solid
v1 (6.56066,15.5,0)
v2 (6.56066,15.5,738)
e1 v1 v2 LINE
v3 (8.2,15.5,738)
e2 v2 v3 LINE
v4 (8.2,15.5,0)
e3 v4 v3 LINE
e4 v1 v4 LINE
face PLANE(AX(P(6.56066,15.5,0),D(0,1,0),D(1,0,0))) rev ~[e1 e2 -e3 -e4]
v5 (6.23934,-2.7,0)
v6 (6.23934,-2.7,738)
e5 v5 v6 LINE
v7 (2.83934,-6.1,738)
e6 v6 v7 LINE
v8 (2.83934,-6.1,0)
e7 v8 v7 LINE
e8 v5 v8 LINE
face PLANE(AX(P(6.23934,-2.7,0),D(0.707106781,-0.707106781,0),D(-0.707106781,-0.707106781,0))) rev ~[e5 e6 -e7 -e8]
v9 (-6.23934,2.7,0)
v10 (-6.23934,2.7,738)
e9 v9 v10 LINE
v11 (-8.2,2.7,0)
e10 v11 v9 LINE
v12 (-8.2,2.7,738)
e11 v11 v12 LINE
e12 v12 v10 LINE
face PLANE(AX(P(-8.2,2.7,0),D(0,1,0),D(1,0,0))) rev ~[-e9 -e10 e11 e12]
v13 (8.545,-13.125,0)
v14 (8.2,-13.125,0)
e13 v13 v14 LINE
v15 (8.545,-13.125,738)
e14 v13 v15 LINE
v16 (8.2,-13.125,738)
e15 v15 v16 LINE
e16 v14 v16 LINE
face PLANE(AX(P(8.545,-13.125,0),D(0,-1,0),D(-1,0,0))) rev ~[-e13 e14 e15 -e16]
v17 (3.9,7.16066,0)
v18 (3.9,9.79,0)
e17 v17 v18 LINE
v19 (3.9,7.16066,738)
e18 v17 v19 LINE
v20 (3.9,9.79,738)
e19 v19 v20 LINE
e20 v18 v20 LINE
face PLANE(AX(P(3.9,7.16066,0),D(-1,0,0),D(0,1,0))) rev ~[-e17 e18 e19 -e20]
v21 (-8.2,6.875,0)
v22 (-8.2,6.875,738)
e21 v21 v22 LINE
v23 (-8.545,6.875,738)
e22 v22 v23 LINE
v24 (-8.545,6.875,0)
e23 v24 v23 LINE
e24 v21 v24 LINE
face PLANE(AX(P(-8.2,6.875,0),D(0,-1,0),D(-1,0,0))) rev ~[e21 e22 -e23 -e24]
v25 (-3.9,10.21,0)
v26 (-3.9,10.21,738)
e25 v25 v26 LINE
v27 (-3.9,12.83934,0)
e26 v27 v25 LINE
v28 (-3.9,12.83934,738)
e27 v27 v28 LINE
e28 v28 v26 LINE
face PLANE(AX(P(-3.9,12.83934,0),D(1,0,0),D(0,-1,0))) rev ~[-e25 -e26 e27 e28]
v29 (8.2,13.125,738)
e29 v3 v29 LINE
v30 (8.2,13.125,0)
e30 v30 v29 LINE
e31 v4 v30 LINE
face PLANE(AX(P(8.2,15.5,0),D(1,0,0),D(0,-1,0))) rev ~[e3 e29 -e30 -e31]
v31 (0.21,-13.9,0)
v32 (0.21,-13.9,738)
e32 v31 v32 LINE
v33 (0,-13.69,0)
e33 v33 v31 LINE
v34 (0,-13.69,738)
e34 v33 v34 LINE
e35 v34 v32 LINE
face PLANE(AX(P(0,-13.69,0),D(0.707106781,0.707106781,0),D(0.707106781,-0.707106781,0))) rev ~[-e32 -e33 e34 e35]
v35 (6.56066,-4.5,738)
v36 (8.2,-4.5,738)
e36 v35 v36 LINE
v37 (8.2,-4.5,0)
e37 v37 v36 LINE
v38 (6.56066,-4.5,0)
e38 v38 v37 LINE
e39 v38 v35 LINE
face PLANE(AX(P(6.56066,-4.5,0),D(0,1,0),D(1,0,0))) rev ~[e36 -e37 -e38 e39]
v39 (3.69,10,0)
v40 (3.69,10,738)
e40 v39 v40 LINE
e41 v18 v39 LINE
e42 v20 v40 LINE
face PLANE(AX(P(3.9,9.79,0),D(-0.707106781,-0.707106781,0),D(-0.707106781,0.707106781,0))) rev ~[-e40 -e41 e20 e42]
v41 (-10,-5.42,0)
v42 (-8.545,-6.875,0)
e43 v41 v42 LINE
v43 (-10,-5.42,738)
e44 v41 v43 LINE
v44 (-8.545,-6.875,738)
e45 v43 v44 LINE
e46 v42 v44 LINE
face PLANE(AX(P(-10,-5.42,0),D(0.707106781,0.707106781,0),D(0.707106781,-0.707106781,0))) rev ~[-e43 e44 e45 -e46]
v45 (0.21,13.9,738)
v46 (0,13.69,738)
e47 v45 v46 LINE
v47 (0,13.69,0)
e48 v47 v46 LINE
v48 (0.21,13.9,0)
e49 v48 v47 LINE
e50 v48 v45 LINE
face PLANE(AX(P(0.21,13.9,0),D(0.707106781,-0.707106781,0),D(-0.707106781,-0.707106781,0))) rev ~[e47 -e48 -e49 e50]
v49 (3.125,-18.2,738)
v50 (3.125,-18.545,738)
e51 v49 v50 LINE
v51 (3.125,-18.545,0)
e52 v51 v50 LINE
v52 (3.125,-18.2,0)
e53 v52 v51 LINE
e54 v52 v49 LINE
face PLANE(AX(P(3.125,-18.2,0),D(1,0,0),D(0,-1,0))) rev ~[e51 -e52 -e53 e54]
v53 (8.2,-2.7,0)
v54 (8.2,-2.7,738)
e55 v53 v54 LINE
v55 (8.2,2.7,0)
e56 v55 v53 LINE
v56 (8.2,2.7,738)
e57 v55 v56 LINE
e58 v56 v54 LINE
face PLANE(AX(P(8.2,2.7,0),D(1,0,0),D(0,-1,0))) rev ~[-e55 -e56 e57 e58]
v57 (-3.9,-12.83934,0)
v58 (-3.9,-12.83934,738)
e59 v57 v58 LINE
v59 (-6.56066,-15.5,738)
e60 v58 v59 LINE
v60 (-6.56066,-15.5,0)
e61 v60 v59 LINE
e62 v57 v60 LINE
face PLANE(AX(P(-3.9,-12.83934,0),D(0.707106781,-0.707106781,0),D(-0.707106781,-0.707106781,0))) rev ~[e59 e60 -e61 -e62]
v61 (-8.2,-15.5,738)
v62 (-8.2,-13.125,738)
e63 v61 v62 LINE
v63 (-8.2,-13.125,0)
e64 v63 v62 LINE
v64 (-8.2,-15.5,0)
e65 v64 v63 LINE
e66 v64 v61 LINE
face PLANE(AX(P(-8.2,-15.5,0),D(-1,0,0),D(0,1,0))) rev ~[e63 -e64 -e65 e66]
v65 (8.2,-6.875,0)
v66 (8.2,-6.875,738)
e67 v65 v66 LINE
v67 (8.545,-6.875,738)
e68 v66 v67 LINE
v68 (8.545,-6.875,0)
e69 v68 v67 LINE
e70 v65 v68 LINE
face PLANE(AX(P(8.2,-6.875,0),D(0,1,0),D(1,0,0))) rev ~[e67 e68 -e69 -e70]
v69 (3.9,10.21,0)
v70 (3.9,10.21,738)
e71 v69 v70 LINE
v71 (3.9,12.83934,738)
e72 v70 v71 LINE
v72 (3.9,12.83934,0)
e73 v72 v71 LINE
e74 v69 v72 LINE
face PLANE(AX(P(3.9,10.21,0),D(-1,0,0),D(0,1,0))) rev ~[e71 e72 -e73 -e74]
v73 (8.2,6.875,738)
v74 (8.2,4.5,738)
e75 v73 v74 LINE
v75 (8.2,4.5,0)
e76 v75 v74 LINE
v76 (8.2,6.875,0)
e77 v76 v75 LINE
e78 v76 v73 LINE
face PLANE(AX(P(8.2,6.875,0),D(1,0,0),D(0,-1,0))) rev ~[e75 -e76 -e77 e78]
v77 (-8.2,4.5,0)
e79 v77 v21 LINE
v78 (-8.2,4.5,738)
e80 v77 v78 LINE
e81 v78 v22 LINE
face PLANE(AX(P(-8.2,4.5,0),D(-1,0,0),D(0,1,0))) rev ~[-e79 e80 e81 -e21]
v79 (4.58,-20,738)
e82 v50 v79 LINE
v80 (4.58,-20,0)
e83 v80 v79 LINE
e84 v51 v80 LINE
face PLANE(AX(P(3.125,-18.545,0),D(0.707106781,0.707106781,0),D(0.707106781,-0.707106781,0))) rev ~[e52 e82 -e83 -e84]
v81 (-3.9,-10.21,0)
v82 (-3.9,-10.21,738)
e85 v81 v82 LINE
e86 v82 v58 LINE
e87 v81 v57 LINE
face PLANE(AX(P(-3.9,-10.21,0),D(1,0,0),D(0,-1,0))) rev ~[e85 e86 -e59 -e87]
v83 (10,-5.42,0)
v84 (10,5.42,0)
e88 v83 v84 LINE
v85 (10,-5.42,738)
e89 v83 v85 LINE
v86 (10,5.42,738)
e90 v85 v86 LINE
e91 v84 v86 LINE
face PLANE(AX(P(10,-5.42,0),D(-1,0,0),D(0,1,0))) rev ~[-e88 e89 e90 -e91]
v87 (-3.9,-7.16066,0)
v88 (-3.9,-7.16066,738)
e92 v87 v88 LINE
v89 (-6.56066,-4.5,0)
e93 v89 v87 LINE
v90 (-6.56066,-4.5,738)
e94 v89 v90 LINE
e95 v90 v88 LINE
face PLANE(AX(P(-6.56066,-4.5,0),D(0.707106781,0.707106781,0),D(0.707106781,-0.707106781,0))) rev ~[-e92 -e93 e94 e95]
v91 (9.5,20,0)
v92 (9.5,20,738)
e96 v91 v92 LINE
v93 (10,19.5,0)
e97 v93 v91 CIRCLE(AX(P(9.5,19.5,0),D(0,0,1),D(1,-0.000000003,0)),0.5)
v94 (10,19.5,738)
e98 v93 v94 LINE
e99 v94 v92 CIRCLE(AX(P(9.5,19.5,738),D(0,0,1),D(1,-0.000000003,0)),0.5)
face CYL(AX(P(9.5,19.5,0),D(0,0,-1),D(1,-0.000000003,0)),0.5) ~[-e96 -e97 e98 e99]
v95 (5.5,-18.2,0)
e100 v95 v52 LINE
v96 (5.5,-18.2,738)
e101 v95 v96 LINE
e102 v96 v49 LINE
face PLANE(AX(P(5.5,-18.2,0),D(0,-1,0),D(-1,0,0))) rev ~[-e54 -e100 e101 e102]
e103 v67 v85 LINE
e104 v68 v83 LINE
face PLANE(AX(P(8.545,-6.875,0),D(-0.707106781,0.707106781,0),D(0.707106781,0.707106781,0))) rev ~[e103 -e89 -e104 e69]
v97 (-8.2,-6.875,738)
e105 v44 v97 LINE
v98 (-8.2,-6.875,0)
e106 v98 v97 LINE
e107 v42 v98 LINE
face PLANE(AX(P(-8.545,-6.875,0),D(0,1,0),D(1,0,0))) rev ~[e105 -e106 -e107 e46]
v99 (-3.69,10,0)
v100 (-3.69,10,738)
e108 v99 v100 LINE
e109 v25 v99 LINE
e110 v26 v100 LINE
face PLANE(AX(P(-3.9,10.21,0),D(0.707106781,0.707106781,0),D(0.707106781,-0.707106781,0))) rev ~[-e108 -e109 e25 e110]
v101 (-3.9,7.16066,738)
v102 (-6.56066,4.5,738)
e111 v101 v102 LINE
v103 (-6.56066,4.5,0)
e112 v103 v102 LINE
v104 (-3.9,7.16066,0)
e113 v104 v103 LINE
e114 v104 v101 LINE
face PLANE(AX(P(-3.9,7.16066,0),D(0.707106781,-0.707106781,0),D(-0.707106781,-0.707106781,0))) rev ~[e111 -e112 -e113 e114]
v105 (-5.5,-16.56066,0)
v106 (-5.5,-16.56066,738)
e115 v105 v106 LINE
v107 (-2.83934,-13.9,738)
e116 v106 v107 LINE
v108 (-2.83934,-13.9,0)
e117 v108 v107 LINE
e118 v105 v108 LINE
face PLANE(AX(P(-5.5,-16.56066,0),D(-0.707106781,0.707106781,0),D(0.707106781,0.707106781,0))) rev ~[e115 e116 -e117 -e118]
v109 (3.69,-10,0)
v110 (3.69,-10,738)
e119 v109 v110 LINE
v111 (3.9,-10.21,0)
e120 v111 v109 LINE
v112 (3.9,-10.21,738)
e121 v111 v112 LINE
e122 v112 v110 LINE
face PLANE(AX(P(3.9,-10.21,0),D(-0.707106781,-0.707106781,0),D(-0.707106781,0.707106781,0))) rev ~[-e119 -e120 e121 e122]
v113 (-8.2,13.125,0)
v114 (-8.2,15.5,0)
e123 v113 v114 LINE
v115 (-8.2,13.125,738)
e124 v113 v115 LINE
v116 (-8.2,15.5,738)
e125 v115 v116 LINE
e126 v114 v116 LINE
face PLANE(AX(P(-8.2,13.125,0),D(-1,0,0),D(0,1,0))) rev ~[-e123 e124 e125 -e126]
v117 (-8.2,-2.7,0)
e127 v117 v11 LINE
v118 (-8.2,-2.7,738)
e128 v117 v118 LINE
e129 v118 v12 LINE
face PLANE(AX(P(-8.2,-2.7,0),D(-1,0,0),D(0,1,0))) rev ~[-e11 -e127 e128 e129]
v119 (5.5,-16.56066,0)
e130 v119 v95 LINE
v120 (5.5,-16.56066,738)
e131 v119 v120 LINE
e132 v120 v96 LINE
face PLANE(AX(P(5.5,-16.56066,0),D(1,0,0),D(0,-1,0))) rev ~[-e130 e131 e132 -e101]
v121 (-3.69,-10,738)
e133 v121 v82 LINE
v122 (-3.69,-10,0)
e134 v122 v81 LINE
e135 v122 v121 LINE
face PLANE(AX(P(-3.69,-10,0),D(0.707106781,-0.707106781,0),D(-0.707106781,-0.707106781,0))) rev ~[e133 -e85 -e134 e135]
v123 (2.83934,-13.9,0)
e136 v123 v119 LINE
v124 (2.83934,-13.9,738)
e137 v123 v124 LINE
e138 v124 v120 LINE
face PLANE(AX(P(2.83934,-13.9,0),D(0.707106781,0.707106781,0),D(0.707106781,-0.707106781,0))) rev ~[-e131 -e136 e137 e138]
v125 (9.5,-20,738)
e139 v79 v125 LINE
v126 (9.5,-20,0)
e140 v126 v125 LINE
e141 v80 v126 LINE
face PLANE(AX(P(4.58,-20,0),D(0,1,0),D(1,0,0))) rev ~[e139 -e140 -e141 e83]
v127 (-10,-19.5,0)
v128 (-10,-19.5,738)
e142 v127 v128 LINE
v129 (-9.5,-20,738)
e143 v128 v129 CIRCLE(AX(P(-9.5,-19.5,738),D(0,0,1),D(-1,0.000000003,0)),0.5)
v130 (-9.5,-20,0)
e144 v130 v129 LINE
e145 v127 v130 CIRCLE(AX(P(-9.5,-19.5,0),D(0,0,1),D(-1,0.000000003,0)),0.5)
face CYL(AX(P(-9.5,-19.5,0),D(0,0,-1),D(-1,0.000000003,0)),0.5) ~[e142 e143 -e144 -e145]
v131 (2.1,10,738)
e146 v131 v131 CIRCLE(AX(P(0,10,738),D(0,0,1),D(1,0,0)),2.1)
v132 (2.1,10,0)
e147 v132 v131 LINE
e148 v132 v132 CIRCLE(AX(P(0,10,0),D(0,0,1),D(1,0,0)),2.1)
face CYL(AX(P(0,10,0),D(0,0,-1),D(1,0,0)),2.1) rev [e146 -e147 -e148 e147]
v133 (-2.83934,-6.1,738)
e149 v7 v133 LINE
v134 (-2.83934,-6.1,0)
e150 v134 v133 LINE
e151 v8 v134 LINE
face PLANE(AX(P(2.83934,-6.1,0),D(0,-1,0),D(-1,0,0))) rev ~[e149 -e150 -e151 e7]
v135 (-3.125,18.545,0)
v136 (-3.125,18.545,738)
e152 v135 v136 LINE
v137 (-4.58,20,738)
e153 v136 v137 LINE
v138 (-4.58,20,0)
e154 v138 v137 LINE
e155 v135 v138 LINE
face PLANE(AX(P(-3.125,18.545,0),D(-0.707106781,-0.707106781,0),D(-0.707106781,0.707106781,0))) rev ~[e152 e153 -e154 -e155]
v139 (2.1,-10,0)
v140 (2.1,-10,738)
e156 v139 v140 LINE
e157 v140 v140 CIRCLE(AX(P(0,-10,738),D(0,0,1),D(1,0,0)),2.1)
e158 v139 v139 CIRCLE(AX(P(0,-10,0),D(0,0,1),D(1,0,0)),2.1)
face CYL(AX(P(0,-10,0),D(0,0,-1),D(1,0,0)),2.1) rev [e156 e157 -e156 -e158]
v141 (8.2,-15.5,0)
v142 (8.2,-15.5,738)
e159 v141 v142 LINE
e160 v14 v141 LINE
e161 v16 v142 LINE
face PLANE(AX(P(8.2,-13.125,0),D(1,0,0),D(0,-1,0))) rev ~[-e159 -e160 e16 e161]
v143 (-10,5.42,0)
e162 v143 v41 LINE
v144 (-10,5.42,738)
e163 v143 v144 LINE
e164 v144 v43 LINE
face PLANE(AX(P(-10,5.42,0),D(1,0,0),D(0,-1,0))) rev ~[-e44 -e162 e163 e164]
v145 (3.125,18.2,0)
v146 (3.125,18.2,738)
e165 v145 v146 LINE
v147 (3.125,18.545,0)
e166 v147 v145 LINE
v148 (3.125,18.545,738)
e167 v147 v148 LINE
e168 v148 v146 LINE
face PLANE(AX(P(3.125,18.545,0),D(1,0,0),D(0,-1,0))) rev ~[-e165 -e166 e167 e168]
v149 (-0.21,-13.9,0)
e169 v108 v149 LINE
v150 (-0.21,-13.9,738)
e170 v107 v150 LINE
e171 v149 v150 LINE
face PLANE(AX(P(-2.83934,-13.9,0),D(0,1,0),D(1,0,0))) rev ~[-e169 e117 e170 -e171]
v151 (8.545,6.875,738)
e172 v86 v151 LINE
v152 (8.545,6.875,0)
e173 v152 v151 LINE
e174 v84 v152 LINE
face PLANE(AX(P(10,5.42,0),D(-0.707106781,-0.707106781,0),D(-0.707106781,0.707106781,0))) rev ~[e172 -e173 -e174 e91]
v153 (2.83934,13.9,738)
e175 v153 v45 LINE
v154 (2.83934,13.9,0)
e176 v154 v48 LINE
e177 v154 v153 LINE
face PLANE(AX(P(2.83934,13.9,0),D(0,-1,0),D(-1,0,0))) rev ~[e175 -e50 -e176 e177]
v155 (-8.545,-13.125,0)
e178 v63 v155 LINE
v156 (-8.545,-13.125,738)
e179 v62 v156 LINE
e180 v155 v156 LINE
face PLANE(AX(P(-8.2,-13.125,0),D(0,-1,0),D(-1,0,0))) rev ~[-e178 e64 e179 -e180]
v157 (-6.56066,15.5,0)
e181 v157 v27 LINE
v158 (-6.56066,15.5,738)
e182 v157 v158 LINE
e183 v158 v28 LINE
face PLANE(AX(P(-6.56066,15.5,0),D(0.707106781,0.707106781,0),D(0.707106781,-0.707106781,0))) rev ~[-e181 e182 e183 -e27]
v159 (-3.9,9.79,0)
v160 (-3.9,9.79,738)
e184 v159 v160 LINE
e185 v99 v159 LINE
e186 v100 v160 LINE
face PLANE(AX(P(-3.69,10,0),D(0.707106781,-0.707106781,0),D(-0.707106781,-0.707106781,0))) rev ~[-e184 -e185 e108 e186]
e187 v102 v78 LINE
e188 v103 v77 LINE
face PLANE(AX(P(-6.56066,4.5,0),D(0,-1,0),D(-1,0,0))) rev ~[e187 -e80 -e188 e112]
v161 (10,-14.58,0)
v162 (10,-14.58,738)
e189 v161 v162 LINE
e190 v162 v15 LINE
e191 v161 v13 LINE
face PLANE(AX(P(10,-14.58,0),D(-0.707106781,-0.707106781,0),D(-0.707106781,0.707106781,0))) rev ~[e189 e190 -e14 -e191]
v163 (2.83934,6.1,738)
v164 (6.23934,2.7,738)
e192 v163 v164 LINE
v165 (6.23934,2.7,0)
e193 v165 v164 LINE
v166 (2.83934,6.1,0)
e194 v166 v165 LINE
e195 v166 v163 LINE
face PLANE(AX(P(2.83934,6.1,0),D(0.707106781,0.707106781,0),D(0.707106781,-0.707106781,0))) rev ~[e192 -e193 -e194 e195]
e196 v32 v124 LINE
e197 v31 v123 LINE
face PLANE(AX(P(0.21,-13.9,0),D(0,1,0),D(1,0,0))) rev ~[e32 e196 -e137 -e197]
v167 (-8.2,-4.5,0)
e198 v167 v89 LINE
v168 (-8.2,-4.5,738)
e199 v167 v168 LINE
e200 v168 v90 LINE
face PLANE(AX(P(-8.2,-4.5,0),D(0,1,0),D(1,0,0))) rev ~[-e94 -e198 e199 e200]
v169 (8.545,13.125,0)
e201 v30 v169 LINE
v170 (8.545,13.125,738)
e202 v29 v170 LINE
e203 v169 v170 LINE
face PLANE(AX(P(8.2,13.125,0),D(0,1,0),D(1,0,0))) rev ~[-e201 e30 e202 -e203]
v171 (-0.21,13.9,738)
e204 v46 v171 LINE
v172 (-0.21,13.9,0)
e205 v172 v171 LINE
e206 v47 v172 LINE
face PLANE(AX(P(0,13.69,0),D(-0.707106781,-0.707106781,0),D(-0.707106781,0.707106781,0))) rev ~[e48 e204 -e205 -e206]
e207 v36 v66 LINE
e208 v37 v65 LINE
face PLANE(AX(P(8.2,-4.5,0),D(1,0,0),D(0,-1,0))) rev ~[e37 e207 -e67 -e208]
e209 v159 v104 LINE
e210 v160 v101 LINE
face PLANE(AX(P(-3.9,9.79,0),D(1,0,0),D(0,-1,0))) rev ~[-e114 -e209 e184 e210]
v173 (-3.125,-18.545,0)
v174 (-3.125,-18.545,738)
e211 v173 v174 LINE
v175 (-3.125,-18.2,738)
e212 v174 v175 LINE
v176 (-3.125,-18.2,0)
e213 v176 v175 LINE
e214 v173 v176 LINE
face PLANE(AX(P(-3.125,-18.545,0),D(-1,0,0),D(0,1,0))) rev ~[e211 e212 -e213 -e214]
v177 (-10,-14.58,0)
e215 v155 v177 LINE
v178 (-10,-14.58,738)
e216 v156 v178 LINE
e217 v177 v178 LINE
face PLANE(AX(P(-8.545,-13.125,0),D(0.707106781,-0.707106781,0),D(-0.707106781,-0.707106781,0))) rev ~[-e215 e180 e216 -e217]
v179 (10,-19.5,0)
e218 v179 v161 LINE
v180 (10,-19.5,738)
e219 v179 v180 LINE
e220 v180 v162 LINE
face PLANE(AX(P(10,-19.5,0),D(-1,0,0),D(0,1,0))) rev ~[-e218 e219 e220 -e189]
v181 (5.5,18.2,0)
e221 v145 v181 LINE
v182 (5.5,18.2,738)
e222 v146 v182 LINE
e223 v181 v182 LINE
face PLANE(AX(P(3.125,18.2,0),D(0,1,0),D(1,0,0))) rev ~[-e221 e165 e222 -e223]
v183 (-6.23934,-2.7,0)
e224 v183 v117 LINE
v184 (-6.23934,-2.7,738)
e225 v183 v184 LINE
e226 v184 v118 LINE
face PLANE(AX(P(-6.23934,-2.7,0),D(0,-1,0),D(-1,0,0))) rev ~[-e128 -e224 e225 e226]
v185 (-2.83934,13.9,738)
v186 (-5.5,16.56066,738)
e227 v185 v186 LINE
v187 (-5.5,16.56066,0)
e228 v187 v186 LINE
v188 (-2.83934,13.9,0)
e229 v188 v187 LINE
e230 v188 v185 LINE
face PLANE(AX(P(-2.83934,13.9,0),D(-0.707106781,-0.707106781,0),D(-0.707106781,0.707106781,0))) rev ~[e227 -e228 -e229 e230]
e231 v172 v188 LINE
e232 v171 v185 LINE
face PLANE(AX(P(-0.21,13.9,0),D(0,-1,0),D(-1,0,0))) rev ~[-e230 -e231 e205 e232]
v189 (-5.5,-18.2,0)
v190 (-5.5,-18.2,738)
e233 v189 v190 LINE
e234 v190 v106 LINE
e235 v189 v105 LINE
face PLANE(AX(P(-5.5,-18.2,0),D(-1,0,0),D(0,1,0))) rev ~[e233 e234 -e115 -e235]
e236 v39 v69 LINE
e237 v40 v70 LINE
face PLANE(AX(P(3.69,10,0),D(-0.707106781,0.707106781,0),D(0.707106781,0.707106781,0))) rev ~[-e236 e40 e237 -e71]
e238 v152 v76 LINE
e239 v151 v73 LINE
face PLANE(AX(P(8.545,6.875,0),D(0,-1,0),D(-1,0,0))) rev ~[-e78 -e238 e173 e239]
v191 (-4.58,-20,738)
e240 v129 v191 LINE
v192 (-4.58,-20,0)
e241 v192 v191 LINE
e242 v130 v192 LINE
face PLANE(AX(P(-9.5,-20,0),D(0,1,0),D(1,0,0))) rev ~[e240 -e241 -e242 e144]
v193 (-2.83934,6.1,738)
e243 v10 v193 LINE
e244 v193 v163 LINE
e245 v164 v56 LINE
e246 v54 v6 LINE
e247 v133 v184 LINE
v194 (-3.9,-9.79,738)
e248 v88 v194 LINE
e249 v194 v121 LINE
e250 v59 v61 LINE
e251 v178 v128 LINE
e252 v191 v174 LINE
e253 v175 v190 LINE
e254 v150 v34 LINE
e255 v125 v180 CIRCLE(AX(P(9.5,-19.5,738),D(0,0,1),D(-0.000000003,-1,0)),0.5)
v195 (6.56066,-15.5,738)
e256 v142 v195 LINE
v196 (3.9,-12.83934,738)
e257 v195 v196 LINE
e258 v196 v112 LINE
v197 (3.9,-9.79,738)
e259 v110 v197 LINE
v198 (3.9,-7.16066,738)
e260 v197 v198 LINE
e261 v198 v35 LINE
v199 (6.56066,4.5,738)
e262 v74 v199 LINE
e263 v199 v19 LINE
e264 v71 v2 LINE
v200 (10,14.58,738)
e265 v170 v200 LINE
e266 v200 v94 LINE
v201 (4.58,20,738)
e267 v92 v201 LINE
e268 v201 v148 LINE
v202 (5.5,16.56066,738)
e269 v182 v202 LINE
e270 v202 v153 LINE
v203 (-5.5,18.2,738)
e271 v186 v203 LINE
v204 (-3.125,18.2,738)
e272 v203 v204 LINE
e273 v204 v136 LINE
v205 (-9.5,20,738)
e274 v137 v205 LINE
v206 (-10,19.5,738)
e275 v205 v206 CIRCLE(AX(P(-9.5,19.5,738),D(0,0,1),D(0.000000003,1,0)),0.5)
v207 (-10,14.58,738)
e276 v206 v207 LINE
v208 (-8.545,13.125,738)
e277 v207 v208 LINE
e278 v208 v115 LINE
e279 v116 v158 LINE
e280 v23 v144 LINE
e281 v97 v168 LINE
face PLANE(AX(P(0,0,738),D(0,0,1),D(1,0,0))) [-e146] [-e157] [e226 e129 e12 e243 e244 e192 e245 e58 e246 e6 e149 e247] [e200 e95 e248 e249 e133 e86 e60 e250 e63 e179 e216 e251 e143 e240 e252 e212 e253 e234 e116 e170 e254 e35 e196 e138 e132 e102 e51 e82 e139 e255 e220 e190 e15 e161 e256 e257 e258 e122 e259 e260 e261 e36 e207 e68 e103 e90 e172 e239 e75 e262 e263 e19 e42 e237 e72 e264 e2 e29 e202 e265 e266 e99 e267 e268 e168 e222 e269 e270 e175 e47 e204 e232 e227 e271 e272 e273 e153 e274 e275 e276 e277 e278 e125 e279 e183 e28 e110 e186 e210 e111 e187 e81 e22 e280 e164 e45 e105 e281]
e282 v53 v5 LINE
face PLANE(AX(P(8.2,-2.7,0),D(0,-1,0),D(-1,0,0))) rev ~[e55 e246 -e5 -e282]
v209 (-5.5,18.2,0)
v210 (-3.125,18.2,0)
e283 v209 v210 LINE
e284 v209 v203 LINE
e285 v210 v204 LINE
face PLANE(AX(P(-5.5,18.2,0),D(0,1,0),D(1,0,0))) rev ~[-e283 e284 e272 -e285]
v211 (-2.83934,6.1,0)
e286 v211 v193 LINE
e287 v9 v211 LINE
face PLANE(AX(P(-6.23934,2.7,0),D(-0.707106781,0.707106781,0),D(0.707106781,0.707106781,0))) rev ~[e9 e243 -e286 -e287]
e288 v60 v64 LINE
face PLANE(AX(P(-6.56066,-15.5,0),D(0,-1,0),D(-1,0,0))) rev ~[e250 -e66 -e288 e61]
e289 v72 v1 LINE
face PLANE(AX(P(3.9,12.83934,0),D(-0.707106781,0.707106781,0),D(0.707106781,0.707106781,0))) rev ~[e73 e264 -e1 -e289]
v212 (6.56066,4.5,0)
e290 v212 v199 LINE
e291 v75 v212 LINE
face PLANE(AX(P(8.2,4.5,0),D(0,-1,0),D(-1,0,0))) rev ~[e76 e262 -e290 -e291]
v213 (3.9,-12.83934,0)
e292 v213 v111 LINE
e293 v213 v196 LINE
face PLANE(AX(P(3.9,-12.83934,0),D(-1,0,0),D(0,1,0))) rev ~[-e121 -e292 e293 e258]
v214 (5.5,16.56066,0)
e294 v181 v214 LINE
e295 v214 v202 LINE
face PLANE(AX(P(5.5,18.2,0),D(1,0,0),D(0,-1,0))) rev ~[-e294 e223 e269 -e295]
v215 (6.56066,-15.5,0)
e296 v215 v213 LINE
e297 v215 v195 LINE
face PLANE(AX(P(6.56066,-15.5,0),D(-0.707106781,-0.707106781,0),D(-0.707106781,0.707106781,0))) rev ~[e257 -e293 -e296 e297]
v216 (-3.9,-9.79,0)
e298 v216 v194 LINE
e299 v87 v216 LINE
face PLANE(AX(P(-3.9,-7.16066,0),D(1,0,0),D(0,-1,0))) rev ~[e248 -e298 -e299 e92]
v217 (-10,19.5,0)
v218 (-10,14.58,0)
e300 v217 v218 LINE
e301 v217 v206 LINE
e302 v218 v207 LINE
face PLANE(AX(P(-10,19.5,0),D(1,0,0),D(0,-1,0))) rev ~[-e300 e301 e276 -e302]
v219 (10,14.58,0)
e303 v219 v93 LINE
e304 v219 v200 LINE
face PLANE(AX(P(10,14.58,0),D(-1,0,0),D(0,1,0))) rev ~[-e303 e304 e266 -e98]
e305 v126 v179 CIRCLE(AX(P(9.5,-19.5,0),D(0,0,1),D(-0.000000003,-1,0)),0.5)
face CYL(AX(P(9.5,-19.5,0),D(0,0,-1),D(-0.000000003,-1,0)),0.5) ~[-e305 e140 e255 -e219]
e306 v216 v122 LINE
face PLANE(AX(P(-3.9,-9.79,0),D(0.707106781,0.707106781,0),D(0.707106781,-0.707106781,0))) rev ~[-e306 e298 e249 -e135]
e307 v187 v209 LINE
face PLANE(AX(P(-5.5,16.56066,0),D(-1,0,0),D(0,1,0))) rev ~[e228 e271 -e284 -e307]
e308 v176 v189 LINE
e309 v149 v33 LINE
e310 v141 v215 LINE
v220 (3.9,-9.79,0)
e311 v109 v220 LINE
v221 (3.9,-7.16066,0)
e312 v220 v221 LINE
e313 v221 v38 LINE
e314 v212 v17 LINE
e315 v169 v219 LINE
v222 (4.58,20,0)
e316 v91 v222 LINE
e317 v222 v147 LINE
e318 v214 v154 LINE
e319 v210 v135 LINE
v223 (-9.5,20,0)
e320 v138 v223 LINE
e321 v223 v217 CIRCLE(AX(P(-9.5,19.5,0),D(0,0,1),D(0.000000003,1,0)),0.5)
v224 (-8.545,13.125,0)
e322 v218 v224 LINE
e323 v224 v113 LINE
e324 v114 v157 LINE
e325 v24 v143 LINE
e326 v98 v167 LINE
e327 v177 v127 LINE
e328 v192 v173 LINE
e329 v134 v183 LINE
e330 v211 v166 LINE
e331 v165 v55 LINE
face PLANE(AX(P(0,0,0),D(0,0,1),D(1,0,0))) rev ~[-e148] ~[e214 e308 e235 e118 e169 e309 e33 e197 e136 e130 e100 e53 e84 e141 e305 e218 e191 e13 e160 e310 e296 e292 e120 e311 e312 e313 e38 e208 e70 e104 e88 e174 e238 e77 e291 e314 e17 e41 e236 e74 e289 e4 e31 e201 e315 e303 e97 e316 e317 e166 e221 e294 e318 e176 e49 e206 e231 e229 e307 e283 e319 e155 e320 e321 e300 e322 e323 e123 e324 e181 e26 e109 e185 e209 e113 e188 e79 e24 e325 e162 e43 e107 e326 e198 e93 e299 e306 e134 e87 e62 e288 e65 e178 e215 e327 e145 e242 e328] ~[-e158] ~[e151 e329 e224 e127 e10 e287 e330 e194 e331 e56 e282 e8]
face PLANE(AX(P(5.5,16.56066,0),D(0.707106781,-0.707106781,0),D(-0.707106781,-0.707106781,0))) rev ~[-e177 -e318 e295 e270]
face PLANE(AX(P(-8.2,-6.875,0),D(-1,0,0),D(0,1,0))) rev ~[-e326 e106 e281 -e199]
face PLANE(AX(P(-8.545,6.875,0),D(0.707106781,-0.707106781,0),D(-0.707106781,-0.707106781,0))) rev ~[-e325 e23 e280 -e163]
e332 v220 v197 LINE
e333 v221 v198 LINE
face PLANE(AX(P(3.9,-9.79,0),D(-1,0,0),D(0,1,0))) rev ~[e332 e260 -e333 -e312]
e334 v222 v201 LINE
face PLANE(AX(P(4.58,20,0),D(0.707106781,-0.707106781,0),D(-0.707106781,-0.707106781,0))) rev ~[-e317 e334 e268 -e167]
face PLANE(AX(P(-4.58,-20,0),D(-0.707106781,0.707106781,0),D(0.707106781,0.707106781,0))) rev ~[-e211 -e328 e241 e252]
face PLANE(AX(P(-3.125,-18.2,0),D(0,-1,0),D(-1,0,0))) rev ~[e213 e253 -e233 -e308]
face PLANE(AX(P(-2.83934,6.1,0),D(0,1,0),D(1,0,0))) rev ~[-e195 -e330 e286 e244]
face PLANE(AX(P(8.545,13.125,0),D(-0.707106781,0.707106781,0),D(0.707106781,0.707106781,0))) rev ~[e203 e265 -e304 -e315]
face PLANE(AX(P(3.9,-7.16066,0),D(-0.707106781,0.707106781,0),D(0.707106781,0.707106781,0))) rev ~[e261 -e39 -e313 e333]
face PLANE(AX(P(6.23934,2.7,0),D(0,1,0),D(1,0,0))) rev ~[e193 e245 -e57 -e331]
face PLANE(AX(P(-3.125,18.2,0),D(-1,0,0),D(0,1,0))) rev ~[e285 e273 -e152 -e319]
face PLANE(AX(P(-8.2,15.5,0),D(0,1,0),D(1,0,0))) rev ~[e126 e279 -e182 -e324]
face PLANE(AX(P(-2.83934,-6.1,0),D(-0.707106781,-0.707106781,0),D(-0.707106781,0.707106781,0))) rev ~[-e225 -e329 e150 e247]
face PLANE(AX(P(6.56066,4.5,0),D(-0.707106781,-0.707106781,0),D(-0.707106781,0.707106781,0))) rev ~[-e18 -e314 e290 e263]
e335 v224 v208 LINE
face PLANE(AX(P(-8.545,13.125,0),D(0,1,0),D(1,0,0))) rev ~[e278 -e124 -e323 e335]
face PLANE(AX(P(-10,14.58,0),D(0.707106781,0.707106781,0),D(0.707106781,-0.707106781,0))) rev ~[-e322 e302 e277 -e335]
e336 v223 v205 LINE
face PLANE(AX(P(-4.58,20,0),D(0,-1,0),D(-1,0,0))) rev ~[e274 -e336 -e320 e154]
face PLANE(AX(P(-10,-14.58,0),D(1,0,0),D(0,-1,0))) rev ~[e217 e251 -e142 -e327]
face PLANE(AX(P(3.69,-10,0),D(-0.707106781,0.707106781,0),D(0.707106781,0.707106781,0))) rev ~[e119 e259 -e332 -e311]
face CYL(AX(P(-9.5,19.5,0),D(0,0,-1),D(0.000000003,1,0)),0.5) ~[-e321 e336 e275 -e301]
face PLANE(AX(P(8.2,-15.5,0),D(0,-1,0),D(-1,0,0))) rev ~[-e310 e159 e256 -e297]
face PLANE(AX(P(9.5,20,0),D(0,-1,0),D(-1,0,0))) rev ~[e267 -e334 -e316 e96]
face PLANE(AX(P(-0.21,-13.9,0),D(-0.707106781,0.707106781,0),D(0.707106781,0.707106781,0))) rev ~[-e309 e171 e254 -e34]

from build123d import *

# Parameters (mm, degrees)
SKETCH1_R           = 2.1
BOSS_EXTRUDE1_DEPTH = 738


with BuildPart() as part:
    # Sketch1 → Boss-Extrude1 (new body)
    with BuildSketch(Plane.XY):
        with BuildLine():
            Line((4.58, -20), (9.5, -20))
            ThreePointArc((9.5, -20), (9.853553391, -19.853553391), (10, -19.5))
            Line((10, -19.5), (10, -14.58))
            Line((10, -14.58), (8.545, -13.125))
            Line((8.545, -13.125), (8.2, -13.125))
            Line((8.2, -13.125), (8.2, -15.5))
            Line((8.2, -15.5), (6.560660172, -15.5))
            Line((6.560660172, -15.5), (3.9, -12.839339828))
            Line((3.9, -12.839339828), (3.9, -10.21))
            Line((3.9, -10.21), (3.69, -10))
            Line((3.69, -10), (3.9, -9.79))
            Line((3.9, -9.79), (3.9, -7.160660172))
            Line((3.9, -7.160660172), (6.560660172, -4.5))
            Line((6.560660172, -4.5), (8.2, -4.5))
            Line((8.2, -4.5), (8.2, -6.875))
            Line((8.2, -6.875), (8.545, -6.875))
            Line((8.545, -6.875), (10, -5.42))
            Line((10, -5.42), (10, 5.42))
            Line((10, 5.42), (8.545, 6.875))
            Line((8.545, 6.875), (8.2, 6.875))
            Line((8.2, 6.875), (8.2, 4.5))
            Line((8.2, 4.5), (6.560660172, 4.5))
            Line((6.560660172, 4.5), (3.9, 7.160660172))
            Line((3.9, 7.160660172), (3.9, 9.79))
            Line((3.9, 9.79), (3.69, 10))
            Line((3.69, 10), (3.9, 10.21))
            Line((3.9, 10.21), (3.9, 12.839339828))
            Line((3.9, 12.839339828), (6.560660172, 15.5))
            Line((6.560660172, 15.5), (8.2, 15.5))
            Line((8.2, 15.5), (8.2, 13.125))
            Line((8.2, 13.125), (8.545, 13.125))
            Line((8.545, 13.125), (10, 14.58))
            Line((10, 14.58), (10, 19.5))
            ThreePointArc((10, 19.5), (9.853553391, 19.853553391), (9.5, 20))
            Line((9.5, 20), (4.58, 20))
            Line((4.58, 20), (3.125, 18.545))
            Line((3.125, 18.545), (3.125, 18.2))
            Line((3.125, 18.2), (5.5, 18.2))
            Line((5.5, 18.2), (5.5, 16.560660172))
            Line((5.5, 16.560660172), (2.839339828, 13.9))
            Line((2.839339828, 13.9), (0.21, 13.9))
            Line((0.21, 13.9), (0, 13.69))
            Line((0, 13.69), (-0.21, 13.9))
            Line((-0.21, 13.9), (-2.839339828, 13.9))
            Line((-2.839339828, 13.9), (-5.5, 16.560660172))
            Line((-5.5, 16.560660172), (-5.5, 18.2))
            Line((-5.5, 18.2), (-3.125, 18.2))
            Line((-3.125, 18.2), (-3.125, 18.545))
            Line((-3.125, 18.545), (-4.58, 20))
            Line((-4.58, 20), (-9.5, 20))
            ThreePointArc((-9.5, 20), (-9.853553391, 19.853553391), (-10, 19.5))
            Line((-10, 19.5), (-10, 14.58))
            Line((-10, 14.58), (-8.545, 13.125))
            Line((-8.545, 13.125), (-8.2, 13.125))
            Line((-8.2, 13.125), (-8.2, 15.5))
            Line((-8.2, 15.5), (-6.560660172, 15.5))
            Line((-6.560660172, 15.5), (-3.9, 12.839339828))
            Line((-3.9, 12.839339828), (-3.9, 10.21))
            Line((-3.9, 10.21), (-3.69, 10))
            Line((-3.69, 10), (-3.9, 9.79))
            Line((-3.9, 9.79), (-3.9, 7.160660172))
            Line((-3.9, 7.160660172), (-6.560660172, 4.5))
            Line((-6.560660172, 4.5), (-8.2, 4.5))
            Line((-8.2, 4.5), (-8.2, 6.875))
            Line((-8.2, 6.875), (-8.545, 6.875))
            Line((-8.545, 6.875), (-10, 5.42))
            Line((-10, 5.42), (-10, -5.42))
            Line((-10, -5.42), (-8.545, -6.875))
            Line((-8.545, -6.875), (-8.2, -6.875))
            Line((-8.2, -6.875), (-8.2, -4.5))
            Line((-8.2, -4.5), (-6.560660172, -4.5))
            Line((-6.560660172, -4.5), (-3.9, -7.160660172))
            Line((-3.9, -7.160660172), (-3.9, -9.79))
            Line((-3.9, -9.79), (-3.69, -10))
            Line((-3.69, -10), (-3.9, -10.21))
            Line((-3.9, -10.21), (-3.9, -12.839339828))
            Line((-3.9, -12.839339828), (-6.560660172, -15.5))
            Line((-6.560660172, -15.5), (-8.2, -15.5))
            Line((-8.2, -15.5), (-8.2, -13.125))
            Line((-8.2, -13.125), (-8.545, -13.125))
            Line((-8.545, -13.125), (-10, -14.58))
            Line((-10, -14.58), (-10, -19.5))
            ThreePointArc((-10, -19.5), (-9.853553391, -19.853553391), (-9.5, -20))
            Line((-9.5, -20), (-4.58, -20))
            Line((-4.58, -20), (-3.125, -18.545))
            Line((-3.125, -18.545), (-3.125, -18.2))
            Line((-3.125, -18.2), (-5.5, -18.2))
            Line((-5.5, -18.2), (-5.5, -16.560660172))
            Line((-5.5, -16.560660172), (-2.839339828, -13.9))
            Line((-2.839339828, -13.9), (-0.21, -13.9))
            Line((-0.21, -13.9), (0, -13.69))
            Line((0, -13.69), (0.21, -13.9))
            Line((0.21, -13.9), (2.839339828, -13.9))
            Line((2.839339828, -13.9), (5.5, -16.560660172))
            Line((5.5, -16.560660172), (5.5, -18.2))
            Line((5.5, -18.2), (3.125, -18.2))
            Line((3.125, -18.2), (3.125, -18.545))
            Line((3.125, -18.545), (4.58, -20))
        make_face()
        with Locations((0, -10)):
            Circle(SKETCH1_R, mode=Mode.SUBTRACT)
        Polygon((-6.239339828, -2.7), (-8.2, -2.7), (-8.2, 2.7), (-6.239339828, 2.7), (-2.839339828, 6.1), (2.839339828, 6.1), (6.239339828, 2.7), (8.2, 2.7), (8.2, -2.7), (6.239339828, -2.7), (2.839339828, -6.1), (-2.839339828, -6.1), align=None, mode=Mode.SUBTRACT)
        with Locations((0, 10)):
            Circle(SKETCH1_R, mode=Mode.SUBTRACT)
    extrude(amount=BOSS_EXTRUDE1_DEPTH)


solid = part.part
